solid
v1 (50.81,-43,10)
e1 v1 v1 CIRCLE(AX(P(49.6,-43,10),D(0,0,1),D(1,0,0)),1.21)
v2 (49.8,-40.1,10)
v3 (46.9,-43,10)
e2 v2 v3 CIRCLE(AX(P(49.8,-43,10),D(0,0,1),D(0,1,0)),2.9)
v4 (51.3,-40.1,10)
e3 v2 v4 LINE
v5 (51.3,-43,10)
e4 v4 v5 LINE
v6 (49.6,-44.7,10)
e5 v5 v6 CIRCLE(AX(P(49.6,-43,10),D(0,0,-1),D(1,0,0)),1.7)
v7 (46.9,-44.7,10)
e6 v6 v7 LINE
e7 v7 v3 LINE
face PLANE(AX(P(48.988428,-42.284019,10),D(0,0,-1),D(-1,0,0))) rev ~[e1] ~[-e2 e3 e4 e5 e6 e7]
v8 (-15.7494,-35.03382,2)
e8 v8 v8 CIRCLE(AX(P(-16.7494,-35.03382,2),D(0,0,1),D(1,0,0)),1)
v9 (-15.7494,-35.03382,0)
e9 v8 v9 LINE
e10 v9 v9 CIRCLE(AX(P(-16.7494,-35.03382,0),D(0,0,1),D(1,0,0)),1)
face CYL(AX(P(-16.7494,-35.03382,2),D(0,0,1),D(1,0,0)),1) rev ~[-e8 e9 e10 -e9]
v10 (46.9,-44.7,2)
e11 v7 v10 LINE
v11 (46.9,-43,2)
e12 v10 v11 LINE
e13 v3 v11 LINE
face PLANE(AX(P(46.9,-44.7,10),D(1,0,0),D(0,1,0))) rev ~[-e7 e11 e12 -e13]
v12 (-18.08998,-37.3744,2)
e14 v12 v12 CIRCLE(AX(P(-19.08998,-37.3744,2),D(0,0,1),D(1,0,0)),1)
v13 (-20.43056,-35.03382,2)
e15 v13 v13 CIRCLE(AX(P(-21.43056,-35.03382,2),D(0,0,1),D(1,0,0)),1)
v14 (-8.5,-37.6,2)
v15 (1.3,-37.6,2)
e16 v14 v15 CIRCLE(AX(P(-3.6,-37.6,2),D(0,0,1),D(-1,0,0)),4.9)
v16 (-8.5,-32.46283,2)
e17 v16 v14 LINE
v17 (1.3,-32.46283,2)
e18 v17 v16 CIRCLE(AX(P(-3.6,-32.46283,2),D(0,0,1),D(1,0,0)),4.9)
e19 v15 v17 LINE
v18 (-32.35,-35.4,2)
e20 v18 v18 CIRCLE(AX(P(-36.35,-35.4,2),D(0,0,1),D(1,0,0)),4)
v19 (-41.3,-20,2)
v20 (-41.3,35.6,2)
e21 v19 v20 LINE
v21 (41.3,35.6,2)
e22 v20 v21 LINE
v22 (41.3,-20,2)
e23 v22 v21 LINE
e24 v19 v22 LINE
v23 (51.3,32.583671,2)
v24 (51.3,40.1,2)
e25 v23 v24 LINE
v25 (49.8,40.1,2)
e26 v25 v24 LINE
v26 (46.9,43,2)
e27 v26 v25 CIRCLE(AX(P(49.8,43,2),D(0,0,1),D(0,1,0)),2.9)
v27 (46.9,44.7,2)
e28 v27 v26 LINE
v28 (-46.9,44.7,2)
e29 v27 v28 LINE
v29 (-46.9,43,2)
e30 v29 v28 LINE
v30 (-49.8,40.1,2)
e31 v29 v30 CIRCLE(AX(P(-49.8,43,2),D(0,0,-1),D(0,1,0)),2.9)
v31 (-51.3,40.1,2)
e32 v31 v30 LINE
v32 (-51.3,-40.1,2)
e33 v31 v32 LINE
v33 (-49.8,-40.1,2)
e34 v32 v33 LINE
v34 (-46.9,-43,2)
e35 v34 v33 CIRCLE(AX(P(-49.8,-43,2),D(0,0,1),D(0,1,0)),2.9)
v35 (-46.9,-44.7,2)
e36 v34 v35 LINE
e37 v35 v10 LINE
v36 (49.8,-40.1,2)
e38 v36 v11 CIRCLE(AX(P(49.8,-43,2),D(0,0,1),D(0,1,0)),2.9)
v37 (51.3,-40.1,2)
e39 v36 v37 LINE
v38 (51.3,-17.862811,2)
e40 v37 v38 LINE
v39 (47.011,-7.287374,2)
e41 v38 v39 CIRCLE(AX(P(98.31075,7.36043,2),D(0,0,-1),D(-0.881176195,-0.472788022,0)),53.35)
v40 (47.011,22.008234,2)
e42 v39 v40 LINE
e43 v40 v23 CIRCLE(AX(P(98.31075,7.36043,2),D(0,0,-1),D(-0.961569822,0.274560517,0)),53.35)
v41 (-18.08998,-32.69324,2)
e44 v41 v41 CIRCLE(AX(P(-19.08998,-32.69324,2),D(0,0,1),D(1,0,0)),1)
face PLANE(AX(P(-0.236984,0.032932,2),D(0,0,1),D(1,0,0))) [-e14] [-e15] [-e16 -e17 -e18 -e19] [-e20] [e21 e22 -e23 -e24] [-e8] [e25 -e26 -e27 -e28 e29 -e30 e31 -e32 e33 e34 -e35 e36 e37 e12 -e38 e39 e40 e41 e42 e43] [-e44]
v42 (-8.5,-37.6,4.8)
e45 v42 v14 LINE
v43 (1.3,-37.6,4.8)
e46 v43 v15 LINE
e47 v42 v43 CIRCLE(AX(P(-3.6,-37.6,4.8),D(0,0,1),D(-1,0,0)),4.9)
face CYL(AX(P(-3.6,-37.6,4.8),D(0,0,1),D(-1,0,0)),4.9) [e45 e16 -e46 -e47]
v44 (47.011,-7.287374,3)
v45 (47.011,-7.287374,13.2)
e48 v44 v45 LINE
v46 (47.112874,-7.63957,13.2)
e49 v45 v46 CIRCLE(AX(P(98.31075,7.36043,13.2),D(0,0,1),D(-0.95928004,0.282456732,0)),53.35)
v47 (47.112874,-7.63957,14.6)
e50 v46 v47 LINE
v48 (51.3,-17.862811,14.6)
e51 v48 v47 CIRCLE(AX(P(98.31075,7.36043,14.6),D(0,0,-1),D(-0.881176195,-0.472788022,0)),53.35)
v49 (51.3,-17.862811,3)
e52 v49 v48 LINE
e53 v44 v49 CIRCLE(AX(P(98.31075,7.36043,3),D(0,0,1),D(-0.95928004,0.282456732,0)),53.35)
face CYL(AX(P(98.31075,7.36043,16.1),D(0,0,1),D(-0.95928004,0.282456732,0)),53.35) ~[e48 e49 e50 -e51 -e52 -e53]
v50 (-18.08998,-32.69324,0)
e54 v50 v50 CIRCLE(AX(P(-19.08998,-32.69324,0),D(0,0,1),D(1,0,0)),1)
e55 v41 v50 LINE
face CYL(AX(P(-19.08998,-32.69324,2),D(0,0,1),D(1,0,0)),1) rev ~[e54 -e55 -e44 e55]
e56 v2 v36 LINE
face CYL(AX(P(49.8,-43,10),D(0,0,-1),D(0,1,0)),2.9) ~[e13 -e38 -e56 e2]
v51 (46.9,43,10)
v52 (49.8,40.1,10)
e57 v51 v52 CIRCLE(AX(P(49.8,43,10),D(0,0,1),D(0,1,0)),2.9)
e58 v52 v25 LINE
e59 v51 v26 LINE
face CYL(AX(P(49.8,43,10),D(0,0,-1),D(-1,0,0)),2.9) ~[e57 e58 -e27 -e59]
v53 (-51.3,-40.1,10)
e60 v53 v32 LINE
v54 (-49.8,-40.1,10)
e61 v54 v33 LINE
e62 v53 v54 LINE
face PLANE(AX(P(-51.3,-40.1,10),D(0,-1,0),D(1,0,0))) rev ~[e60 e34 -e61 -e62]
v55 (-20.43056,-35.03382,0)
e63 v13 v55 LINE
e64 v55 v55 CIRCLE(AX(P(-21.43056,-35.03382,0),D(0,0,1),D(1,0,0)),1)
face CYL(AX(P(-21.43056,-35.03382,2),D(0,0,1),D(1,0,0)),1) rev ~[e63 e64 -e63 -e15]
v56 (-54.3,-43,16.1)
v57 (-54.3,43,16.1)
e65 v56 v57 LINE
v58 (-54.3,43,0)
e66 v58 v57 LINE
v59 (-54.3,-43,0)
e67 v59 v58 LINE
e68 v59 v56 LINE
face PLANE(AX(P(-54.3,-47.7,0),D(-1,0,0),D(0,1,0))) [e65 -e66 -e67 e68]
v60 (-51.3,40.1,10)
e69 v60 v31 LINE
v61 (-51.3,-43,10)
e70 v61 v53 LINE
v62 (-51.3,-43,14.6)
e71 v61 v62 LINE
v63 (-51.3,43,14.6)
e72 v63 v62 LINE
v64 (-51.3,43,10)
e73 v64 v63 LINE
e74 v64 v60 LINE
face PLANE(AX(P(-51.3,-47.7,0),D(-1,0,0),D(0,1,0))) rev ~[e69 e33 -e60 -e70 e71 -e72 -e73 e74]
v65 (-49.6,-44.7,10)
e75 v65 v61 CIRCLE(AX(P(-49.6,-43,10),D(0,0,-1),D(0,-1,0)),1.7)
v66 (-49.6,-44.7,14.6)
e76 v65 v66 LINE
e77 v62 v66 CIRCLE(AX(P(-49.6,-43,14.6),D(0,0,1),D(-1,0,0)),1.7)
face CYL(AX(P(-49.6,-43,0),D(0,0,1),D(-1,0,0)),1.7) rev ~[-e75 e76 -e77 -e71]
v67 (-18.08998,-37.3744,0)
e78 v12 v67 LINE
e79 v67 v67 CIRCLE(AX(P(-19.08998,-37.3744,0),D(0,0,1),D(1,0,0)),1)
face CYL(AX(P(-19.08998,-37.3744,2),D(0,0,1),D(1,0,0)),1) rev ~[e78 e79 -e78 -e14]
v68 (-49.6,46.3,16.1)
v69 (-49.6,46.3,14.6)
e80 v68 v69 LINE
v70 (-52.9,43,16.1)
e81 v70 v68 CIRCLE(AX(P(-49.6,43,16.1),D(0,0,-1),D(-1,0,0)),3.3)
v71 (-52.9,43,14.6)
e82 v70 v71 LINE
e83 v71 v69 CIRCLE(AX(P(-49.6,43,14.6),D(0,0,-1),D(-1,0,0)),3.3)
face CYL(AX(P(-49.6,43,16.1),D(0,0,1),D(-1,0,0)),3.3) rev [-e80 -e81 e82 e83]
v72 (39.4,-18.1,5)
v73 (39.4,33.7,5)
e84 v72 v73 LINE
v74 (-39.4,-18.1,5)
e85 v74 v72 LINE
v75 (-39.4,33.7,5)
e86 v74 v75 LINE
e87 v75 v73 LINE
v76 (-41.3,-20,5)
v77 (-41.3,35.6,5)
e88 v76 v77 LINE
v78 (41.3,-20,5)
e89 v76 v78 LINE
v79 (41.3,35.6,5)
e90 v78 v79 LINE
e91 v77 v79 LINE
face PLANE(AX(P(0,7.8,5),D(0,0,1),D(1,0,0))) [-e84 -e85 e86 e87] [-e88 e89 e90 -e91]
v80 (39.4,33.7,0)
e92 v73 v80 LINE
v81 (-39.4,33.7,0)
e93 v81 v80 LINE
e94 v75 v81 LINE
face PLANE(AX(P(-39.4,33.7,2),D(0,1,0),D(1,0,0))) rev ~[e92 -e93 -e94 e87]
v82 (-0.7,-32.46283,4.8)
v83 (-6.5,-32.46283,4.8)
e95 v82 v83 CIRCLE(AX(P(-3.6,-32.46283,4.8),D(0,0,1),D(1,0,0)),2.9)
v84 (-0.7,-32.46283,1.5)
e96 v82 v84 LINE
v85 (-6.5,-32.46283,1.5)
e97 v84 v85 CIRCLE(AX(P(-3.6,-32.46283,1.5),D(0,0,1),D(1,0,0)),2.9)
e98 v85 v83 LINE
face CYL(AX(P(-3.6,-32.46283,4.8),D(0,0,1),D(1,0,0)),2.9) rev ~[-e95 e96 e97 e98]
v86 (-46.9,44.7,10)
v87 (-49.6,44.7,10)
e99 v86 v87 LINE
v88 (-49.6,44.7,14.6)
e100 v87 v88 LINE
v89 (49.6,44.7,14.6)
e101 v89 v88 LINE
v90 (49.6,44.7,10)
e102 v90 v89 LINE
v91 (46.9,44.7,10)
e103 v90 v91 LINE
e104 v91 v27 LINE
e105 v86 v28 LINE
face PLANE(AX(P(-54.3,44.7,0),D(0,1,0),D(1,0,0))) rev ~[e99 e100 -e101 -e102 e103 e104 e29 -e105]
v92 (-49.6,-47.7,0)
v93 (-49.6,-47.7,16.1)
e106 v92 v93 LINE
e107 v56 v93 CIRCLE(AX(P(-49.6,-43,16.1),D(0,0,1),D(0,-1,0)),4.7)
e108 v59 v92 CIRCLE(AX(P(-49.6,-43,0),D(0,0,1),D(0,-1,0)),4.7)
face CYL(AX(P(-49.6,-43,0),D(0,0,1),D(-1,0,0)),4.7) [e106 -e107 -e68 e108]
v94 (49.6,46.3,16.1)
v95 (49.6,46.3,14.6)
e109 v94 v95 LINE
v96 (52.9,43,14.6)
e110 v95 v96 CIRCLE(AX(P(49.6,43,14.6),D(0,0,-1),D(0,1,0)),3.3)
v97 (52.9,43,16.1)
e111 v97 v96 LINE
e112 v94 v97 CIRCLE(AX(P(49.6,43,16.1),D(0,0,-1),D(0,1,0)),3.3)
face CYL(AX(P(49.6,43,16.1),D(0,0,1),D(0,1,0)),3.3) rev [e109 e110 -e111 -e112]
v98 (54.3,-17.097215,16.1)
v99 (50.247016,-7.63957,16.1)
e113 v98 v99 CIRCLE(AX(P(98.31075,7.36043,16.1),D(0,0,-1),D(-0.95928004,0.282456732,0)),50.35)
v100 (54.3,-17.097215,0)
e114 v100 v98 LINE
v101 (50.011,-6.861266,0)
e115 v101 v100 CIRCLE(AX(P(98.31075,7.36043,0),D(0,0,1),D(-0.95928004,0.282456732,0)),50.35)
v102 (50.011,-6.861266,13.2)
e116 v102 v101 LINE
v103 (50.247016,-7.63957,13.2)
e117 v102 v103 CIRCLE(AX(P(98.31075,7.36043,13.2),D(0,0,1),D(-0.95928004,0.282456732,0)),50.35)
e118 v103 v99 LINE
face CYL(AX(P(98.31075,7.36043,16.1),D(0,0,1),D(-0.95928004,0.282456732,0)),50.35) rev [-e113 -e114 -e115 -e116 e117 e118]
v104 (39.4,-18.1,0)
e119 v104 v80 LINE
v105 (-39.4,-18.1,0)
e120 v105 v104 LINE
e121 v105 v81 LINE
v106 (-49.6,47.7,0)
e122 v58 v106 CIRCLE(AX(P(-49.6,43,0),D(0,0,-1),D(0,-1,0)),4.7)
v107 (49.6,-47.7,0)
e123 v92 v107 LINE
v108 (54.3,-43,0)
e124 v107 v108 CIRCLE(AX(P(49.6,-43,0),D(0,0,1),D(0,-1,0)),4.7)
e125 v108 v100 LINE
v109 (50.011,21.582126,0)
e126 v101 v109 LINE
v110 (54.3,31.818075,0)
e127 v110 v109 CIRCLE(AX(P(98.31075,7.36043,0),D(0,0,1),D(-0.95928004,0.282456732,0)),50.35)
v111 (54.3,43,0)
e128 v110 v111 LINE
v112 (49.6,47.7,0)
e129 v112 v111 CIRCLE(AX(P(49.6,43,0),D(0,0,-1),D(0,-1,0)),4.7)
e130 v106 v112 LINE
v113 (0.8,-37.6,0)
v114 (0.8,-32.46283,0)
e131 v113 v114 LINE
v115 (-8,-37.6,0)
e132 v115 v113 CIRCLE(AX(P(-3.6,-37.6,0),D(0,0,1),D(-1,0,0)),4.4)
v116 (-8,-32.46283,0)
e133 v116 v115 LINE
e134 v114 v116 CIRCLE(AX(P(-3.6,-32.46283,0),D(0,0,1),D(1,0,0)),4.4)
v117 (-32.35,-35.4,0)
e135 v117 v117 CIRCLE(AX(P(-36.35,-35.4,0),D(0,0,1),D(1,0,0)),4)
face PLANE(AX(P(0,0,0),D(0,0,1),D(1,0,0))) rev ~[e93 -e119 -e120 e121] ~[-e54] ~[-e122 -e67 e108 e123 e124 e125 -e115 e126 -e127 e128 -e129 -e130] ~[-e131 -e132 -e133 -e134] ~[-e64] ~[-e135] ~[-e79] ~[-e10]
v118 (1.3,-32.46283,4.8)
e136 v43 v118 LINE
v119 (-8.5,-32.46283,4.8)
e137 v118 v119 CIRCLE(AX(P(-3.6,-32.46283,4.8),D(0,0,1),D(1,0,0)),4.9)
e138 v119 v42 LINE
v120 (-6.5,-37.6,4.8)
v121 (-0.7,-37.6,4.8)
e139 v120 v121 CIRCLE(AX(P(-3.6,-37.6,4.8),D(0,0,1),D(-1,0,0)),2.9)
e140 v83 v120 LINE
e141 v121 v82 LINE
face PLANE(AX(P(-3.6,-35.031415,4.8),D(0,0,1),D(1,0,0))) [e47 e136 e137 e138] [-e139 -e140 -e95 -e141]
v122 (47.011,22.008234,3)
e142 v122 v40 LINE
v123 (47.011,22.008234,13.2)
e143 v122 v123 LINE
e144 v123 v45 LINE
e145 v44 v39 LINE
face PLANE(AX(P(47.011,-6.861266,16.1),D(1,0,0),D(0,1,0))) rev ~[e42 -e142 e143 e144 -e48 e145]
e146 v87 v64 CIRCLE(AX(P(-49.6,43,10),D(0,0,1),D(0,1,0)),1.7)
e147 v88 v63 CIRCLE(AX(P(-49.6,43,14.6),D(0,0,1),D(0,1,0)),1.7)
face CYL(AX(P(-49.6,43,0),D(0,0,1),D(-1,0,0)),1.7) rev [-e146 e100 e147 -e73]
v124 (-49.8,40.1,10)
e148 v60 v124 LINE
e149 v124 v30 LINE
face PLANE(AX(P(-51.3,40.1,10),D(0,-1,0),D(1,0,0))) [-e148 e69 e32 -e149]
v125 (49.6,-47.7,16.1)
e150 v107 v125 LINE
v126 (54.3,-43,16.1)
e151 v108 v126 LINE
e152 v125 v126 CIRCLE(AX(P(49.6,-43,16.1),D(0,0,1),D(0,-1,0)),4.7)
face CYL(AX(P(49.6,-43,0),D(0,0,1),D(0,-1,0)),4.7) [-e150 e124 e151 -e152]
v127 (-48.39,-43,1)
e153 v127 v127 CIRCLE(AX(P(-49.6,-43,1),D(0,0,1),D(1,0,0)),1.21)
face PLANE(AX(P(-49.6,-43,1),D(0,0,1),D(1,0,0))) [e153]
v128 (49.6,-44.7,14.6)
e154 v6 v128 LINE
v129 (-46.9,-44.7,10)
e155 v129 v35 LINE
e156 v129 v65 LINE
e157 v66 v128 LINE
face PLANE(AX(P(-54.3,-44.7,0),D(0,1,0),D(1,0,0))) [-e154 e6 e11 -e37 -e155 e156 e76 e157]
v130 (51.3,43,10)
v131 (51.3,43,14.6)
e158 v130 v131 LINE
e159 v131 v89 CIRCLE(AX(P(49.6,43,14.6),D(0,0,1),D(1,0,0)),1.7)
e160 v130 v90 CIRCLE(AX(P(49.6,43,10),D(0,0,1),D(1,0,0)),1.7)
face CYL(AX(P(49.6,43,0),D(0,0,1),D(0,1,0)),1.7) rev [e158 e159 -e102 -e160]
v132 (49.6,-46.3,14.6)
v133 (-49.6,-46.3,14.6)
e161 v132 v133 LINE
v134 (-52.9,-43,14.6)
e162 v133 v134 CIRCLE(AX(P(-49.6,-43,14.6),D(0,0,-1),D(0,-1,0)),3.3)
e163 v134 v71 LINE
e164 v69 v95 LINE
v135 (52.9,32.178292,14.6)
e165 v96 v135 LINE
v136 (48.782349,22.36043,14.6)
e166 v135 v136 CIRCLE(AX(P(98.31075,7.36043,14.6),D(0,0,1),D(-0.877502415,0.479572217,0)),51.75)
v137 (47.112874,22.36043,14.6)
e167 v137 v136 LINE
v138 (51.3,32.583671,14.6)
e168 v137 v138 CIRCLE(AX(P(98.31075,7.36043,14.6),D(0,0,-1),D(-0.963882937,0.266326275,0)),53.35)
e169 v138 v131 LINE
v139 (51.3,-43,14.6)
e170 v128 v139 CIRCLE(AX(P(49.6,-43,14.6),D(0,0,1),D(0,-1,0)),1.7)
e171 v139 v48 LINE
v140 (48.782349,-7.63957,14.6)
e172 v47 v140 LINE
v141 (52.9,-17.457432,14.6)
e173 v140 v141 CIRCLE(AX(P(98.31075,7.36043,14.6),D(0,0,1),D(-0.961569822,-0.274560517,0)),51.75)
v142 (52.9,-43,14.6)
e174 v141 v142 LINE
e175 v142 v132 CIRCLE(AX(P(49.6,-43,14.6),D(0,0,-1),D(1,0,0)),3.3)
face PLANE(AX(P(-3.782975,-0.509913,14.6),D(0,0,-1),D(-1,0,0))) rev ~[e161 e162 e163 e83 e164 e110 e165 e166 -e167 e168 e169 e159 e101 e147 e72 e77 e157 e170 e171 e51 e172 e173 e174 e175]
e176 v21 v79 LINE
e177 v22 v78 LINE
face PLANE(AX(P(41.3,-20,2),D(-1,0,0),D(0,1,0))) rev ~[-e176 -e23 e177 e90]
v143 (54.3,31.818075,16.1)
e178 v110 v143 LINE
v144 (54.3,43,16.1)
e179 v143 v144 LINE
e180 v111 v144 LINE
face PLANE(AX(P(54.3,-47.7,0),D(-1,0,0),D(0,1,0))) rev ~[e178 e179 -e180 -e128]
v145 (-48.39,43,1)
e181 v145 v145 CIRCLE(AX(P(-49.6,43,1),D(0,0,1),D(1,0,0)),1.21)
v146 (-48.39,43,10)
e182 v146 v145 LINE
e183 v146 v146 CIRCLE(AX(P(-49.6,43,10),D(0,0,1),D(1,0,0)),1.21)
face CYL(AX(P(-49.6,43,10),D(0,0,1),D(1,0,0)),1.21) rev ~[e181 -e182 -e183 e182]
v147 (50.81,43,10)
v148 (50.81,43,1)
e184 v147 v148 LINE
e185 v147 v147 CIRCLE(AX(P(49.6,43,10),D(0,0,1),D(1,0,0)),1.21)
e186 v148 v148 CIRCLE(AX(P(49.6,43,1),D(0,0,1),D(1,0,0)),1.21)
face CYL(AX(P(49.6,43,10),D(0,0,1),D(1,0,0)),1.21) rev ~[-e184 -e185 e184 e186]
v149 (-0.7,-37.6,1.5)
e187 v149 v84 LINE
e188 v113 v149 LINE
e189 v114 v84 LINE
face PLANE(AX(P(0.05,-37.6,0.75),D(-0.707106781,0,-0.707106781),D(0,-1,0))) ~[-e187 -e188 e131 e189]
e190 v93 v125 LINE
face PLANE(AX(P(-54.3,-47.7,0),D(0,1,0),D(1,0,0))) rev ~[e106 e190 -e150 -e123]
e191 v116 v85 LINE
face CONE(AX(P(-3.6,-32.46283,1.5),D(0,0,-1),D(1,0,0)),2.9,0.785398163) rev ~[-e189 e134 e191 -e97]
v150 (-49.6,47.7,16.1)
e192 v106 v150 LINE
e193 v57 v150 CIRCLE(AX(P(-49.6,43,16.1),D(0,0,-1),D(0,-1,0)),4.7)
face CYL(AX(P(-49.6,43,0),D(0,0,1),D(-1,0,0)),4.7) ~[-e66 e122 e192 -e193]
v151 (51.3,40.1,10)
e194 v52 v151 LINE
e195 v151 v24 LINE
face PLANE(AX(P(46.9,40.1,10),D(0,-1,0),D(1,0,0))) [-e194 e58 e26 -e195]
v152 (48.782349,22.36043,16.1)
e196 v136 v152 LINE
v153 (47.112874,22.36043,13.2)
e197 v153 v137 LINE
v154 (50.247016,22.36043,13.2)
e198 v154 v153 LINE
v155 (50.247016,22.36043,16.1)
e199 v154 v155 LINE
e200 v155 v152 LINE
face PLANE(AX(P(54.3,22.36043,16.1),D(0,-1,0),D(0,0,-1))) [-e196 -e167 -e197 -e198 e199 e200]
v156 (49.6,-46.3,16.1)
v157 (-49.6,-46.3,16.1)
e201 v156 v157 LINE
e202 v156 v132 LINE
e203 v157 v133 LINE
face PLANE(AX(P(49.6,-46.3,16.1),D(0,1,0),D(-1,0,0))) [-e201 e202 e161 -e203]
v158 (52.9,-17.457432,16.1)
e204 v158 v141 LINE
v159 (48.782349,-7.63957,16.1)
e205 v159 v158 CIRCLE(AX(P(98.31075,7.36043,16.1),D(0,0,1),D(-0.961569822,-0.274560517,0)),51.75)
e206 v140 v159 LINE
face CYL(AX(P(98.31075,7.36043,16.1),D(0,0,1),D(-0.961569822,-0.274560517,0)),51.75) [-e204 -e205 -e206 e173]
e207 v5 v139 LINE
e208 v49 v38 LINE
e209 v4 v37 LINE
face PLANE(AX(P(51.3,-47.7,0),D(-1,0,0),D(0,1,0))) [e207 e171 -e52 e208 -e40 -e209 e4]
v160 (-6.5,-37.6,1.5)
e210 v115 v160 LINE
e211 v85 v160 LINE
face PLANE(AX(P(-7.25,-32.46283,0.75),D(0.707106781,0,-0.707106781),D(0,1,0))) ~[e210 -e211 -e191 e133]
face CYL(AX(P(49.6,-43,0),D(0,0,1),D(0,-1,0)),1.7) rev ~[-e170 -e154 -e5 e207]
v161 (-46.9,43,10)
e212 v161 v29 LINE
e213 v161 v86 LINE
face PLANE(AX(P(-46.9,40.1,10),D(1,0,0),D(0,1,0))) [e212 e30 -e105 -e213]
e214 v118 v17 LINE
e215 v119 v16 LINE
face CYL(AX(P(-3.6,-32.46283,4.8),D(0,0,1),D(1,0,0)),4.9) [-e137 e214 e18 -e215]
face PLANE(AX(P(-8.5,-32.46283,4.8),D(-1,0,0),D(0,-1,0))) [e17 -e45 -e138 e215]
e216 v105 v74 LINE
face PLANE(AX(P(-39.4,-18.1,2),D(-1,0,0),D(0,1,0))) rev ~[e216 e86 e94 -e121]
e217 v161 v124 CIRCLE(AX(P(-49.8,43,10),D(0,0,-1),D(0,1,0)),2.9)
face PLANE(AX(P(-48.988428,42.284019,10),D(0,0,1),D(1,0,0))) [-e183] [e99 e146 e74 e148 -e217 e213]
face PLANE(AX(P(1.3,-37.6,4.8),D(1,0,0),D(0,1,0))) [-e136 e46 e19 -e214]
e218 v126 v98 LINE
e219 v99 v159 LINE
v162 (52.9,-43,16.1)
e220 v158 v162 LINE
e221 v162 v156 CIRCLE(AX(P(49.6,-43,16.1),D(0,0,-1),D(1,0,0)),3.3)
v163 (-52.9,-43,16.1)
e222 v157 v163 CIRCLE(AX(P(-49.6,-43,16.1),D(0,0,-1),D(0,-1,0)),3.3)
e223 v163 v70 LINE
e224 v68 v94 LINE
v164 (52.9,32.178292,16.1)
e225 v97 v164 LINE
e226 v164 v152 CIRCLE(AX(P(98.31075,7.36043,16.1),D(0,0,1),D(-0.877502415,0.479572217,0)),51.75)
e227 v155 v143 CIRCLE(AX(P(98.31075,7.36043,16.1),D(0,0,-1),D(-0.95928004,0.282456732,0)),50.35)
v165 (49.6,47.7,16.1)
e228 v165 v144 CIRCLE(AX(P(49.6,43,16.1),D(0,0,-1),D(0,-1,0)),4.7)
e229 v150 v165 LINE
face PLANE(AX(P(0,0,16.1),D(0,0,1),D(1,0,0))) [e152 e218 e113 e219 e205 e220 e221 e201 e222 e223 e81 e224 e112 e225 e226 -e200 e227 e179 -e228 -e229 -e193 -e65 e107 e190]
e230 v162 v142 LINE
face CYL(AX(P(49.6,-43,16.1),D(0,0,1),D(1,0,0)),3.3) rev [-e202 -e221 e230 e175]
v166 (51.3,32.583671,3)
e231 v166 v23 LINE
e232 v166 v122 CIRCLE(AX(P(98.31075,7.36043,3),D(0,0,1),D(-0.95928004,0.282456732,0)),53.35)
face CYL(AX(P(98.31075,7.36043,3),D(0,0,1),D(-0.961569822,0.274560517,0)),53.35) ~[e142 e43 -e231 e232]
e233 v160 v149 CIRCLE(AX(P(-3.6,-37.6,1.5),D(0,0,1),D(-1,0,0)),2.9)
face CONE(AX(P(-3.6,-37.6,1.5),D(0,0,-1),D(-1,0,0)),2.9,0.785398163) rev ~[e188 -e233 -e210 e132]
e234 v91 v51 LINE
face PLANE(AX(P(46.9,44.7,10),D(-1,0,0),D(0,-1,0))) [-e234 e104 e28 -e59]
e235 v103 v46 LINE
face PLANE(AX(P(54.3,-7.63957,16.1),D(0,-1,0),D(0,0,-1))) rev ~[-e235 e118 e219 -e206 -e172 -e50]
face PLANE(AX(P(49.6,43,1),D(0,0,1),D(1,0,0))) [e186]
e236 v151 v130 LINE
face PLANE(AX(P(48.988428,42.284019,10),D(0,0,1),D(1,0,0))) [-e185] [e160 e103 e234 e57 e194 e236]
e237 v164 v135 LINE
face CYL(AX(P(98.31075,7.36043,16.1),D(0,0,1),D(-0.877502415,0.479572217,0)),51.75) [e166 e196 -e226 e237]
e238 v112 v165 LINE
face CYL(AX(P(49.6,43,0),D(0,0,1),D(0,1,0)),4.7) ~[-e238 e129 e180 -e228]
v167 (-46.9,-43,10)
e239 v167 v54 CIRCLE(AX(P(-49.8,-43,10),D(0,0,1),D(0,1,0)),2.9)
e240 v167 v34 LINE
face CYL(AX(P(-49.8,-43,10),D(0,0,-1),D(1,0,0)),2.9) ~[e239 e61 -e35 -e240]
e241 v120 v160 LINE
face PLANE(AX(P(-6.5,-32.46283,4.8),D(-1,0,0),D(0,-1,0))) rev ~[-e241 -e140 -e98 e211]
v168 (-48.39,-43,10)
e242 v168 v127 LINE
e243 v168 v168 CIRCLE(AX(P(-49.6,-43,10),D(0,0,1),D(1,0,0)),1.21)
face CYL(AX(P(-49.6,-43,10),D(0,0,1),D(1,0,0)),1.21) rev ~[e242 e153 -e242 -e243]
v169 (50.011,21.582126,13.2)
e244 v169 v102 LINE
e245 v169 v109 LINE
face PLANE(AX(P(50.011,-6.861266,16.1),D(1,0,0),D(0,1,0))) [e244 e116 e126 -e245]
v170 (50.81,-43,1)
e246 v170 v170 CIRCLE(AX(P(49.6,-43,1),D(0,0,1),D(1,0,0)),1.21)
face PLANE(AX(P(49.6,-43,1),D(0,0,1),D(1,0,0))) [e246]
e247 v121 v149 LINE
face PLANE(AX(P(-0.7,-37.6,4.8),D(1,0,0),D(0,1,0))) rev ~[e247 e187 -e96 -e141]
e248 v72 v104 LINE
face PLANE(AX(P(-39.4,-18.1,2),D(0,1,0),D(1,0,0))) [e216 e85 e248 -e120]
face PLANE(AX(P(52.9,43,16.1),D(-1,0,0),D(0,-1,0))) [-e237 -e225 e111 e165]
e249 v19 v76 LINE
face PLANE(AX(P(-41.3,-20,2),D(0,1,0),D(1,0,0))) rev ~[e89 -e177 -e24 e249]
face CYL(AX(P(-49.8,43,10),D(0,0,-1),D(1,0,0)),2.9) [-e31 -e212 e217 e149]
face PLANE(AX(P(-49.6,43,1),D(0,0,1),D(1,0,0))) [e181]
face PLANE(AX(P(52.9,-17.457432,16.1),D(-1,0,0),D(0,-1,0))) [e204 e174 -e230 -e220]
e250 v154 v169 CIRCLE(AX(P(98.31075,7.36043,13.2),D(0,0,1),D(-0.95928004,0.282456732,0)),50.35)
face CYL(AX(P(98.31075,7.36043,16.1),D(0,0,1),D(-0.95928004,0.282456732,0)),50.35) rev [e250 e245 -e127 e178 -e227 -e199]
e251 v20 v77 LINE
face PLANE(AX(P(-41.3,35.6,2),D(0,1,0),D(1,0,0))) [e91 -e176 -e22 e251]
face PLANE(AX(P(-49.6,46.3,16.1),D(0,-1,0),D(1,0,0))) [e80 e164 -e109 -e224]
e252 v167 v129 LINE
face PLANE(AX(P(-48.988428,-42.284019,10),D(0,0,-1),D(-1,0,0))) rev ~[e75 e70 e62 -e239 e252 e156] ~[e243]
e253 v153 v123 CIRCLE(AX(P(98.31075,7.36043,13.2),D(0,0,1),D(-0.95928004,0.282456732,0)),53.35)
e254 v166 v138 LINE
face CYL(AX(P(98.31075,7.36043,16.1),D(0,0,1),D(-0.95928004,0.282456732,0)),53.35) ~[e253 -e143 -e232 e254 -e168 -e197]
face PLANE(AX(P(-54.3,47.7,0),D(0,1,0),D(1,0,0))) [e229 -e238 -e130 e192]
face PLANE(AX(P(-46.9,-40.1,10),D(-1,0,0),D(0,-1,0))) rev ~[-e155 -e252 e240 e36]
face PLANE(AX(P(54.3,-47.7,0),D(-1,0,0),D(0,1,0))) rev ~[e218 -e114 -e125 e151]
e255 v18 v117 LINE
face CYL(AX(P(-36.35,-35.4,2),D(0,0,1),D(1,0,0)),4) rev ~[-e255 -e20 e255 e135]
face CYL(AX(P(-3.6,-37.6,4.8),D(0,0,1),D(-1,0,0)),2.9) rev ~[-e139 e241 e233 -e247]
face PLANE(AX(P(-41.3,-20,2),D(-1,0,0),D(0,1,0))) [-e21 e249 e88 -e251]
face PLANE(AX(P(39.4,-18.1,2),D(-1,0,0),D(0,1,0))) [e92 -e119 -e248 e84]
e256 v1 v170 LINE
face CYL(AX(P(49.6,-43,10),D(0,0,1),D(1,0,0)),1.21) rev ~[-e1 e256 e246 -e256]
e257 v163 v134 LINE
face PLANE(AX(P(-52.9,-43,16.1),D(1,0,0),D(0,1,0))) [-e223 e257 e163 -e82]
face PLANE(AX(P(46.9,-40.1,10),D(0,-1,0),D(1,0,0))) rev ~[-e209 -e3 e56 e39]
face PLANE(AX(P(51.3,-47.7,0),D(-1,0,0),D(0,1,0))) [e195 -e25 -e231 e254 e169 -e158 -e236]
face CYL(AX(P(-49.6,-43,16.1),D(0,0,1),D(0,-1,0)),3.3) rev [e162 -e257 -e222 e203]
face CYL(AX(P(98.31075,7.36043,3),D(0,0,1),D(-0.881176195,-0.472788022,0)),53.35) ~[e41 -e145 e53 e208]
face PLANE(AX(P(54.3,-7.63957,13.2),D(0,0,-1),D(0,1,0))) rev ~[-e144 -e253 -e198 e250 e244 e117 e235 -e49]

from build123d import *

# Parameters (mm, degrees)
SKETCH1_W                = 108.6
SKETCH1_H                = 95.4
BOSS_EXTRUDE1_DEPTH      = 16.1
CUT_EXTRUDE1_DEPTH       = 75.047214667
FILLET1_R                = 4.7
SHELL1_T                 = -3
SHELL1_THICKNESS_2_DEPTH = 1
CUT_EXTRUDE2_DEPTH       = 1.5
SKETCH4_W                = 78.8
SKETCH4_H                = 51.8
CUT_EXTRUDE3_DEPTH       = 74.63823735
SKETCH5_W                = 82.6
SKETCH5_H                = 55.6
SKETCH5_W_2              = 78.8
SKETCH5_H_2              = 51.8
BOSS_EXTRUDE2_DEPTH      = 3
SKETCH6_R                = 4
SKETCH6_R_2              = 1
CUT_EXTRUDE4_DEPTH       = 74.63823735
BOSS_EXTRUDE3_START      = 2.8
BOSS_EXTRUDE3_DEPTH      = 2.8
CHAMFER1_SIZE            = 1.5
CUT_EXTRUDE5_REACH       = 121.702
SKETCH8_W                = 2.9
SKETCH8_H                = 30
BOSS_EXTRUDE4_START      = 8
BOSS_EXTRUDE4_DEPTH      = 8
FILLET2_R                = 2.9
SKETCH10_R               = 1.21
CUT_EXTRUDE6_DEPTH       = 9


with BuildPart() as part:
    # Sketch1 → Boss-Extrude1 (new body)
    with BuildSketch(Plane.XY):
        Rectangle(SKETCH1_W, SKETCH1_H)
    extrude(amount=BOSS_EXTRUDE1_DEPTH)

    # Sketch2 → Cut-Extrude1 (cut, through all)
    with BuildSketch(Plane.XY.offset(16.1)):
        with BuildLine():
            Line((50.011, -6.861266451), (50.011, 21.582126451))
            ThreePointArc((50.011, 21.582126451), (148.66075, 7.36043), (50.011, -6.861266451))
        make_face()
    extrude(amount=-CUT_EXTRUDE1_DEPTH, mode=Mode.SUBTRACT)

    # Fillet1
    fillet1_edges = [part.edges().sort_by_distance(p)[0] for p in [
        (54.3, -47.7, 8.05),
        (-54.3, -47.7, 8.05),
        (-54.3, 47.7, 8.05),
        (54.3, 47.7, 8.05),
    ]]
    fillet(fillet1_edges, radius=FILLET1_R)

    # Shell1
    shell1_openings = [part.faces().sort_by_distance(p)[0] for p in [
        (-0.877010034, -0.123339484, 16.1),
    ]]
    offset(amount=SHELL1_T, openings=shell1_openings, kind=Kind.INTERSECTION)

    # Shell1 thickness 2 face (on inner face of the shell) → Shell1 thickness 2 (cut)
    with BuildSketch(Plane(origin=(-0.963593996, -0.143755332, 3), x_dir=(-1, 0, 0), z_dir=(0, 0, -1))):
        with BuildLine():
            Line((50.336406004, 43.143755332), (50.336406004, -42.856244668))
            ThreePointArc((50.336406004, -42.856244668), (49.838487532, -44.058326196), (48.636406004, -44.556244668))
            Line((48.636406004, -44.556244668), (-50.563593996, -44.556244668))
            ThreePointArc((-50.563593996, -44.556244668), (-51.765675524, -44.058326196), (-52.263593996, -42.856244668))
            Line((-52.263593996, -42.856244668), (-52.263593996, -17.719055626))
            ThreePointArc((-52.263593996, -17.719055626), (-49.835507324, -12.546349038), (-47.974593996, -7.143618255))
            Line((-47.974593996, -7.143618255), (-47.974593996, 22.151988919))
            ThreePointArc((-47.974593996, 22.151988919), (-49.835507324, 27.554719702), (-52.263593996, 32.72742629))
            Line((-52.263593996, 32.72742629), (-52.263593996, 43.143755332))
            ThreePointArc((-52.263593996, 43.143755332), (-51.765675524, 44.34583686), (-50.563593996, 44.843755332))
            Line((-50.563593996, 44.843755332), (48.636406004, 44.843755332))
            ThreePointArc((48.636406004, 44.843755332), (49.838487532, 44.34583686), (50.336406004, 43.143755332))
        make_face()
    extrude(amount=SHELL1_THICKNESS_2_DEPTH, mode=Mode.SUBTRACT)

    # Sketch3 → Cut-Extrude2 (cut)
    with BuildSketch(Plane.XY.offset(16.1)):
        with BuildLine():
            Line((-51.3, 43), (-51.3, -43))
            ThreePointArc((-51.3, -43), (-50.802081528, -44.202081528), (-49.6, -44.7))
            Line((-49.6, -44.7), (49.6, -44.7))
            ThreePointArc((49.6, -44.7), (50.802081528, -44.202081528), (51.3, -43))
            Line((51.3, -43), (51.3, -17.862810958))
            ThreePointArc((51.3, -17.862810958), (48.786619627, -12.478496653), (46.887595336, -6.84807676))
            Line((46.887595336, -6.84807676), (48.549511715, -6.84807676))
            ThreePointArc((48.549511715, -6.84807676), (50.429997664, -12.273623472), (52.9, -17.457432205))
            Line((52.9, -17.457432205), (52.9, -43))
            ThreePointArc((52.9, -43), (51.933452378, -45.333452378), (49.6, -46.3))
            Line((49.6, -46.3), (-49.6, -46.3))
            ThreePointArc((-49.6, -46.3), (-51.933452378, -45.333452378), (-52.9, -43))
            Line((-52.9, -43), (-52.9, 43))
            ThreePointArc((-52.9, 43), (-51.933452378, 45.333452378), (-49.6, 46.3))
            Line((-49.6, 46.3), (49.6, 46.3))
            ThreePointArc((49.6, 46.3), (51.933452378, 45.333452378), (52.9, 43))
            Line((52.9, 43), (52.9, 32.178292205))
            ThreePointArc((52.9, 32.178292205), (50.429997664, 26.994483472), (48.549511715, 21.56893676))
            Line((48.549511715, 21.56893676), (46.887595336, 21.56893676))
            ThreePointArc((46.887595336, 21.56893676), (48.786619627, 27.199356653), (51.3, 32.583670958))
            Line((51.3, 32.583670958), (51.3, 43))
            ThreePointArc((51.3, 43), (50.802081528, 44.202081528), (49.6, 44.7))
            Line((49.6, 44.7), (-49.6, 44.7))
            ThreePointArc((-49.6, 44.7), (-50.802081528, 44.202081528), (-51.3, 43))
        make_face()
    extrude(amount=-CUT_EXTRUDE2_DEPTH, mode=Mode.SUBTRACT)

    # Sketch4 → Cut-Extrude3 (cut, through all)
    with BuildSketch(Plane.XY.offset(2)):
        with Locations((0, 7.8)):
            Rectangle(SKETCH4_W, SKETCH4_H)
    extrude(amount=-CUT_EXTRUDE3_DEPTH, mode=Mode.SUBTRACT)

    # Sketch5 → Boss-Extrude2 (add)
    with BuildSketch(Plane.XY.offset(2)):
        with Locations((0, 7.8)):
            Rectangle(SKETCH5_W, SKETCH5_H)
        with Locations((0, 7.8)):
            Rectangle(SKETCH5_W_2, SKETCH5_H_2, mode=Mode.SUBTRACT)
    extrude(amount=BOSS_EXTRUDE2_DEPTH)

    # Sketch6 → Cut-Extrude4 (cut, through all)
    with BuildSketch(Plane.XY.offset(2)):
        with Locations((-36.35, -35.4)):
            Circle(SKETCH6_R)
        with Locations((-19.08998, -32.69324)):
            Circle(SKETCH6_R_2)
        with Locations((-19.08998, -37.3744)):
            Circle(SKETCH6_R_2)
        with Locations((-21.43056, -35.03382)):
            Circle(SKETCH6_R_2)
        with Locations((-16.7494, -35.03382)):
            Circle(SKETCH6_R_2)
        with BuildLine():
            Line((-0.7, -32.46283), (-0.7, -37.6))
            ThreePointArc((-0.7, -37.6), (-3.6, -40.5), (-6.5, -37.6))
            Line((-6.5, -37.6), (-6.5, -32.46283))
            ThreePointArc((-6.5, -32.46283), (-3.6, -29.56283), (-0.7, -32.46283))
        make_face()
    extrude(amount=-CUT_EXTRUDE4_DEPTH, mode=Mode.SUBTRACT)

    # Sketch7 → Boss-Extrude3 (add)
    with BuildSketch(Plane.XY.offset(2).offset(BOSS_EXTRUDE3_START)):
        with BuildLine():
            Line((-8.5, -32.46283), (-8.5, -37.6))
            ThreePointArc((-8.5, -37.6), (-3.6, -42.5), (1.3, -37.6))
            Line((1.3, -37.6), (1.3, -32.46283))
            ThreePointArc((1.3, -32.46283), (-3.6, -27.56283), (-8.5, -32.46283))
        make_face()
        with BuildLine():
            Line((-6.5, -32.46283), (-6.5, -37.6))
            ThreePointArc((-6.5, -37.6), (-3.6, -40.5), (-0.7, -37.6))
            Line((-0.7, -37.6), (-0.7, -32.46283))
            ThreePointArc((-0.7, -32.46283), (-3.6, -29.56283), (-6.5, -32.46283))
        make_face(mode=Mode.SUBTRACT)
    extrude(amount=-BOSS_EXTRUDE3_DEPTH)

    # Chamfer1
    chamfer1_edges = [part.edges().sort_by_distance(p)[0] for p in [
        (-3.6, -29.56283, 0),
        (-0.7, -35.031415, 0),
        (-3.6, -40.5, 0),
        (-6.5, -35.031415, 0),
    ]]
    chamfer(chamfer1_edges, length=CHAMFER1_SIZE)

    # Sketch8 → Cut-Extrude5 (cut, up to next)
    with BuildSketch(Plane(origin=(54.3, 0, 0), x_dir=(0, 0, -1), z_dir=(1, 0, 0)), mode=Mode.PRIVATE) as cut_extrude5_sk1:
        with Locations((-14.65, 7.36043)):
            Rectangle(SKETCH8_W, SKETCH8_H)
    cut_extrude5_tool1 = extrude(cut_extrude5_sk1.sketch, amount=-CUT_EXTRUDE5_REACH, mode=Mode.PRIVATE) & part.part
    add(cut_extrude5_tool1.solids().sort_by_distance((54.3, 7.36043, 14.65))[0], mode=Mode.SUBTRACT)

    # Sketch9 → Boss-Extrude4 (add)
    with BuildSketch(Plane.XY.offset(2).offset(BOSS_EXTRUDE4_START)):
        with BuildLine():
            Line((49.6, 44.7), (46.9, 44.7))
            Line((46.9, 44.7), (46.9, 40.1))
            Line((46.9, 40.1), (51.3, 40.1))
            Line((51.3, 40.1), (51.3, 43))
            ThreePointArc((51.3, 43), (50.802081528, 44.202081528), (49.6, 44.7))
        make_face()
        with BuildLine():
            Line((-51.3, 40.1), (-46.9, 40.1))
            Line((-46.9, 40.1), (-46.9, 44.7))
            Line((-46.9, 44.7), (-49.6, 44.7))
            ThreePointArc((-49.6, 44.7), (-50.802081528, 44.202081528), (-51.3, 43))
            Line((-51.3, 43), (-51.3, 40.1))
        make_face()
        with BuildLine():
            Line((-51.3, -43), (-51.3, -40.1))
            Line((-51.3, -40.1), (-46.9, -40.1))
            Line((-46.9, -40.1), (-46.9, -44.7))
            Line((-46.9, -44.7), (-49.6, -44.7))
            ThreePointArc((-49.6, -44.7), (-50.802081528, -44.202081528), (-51.3, -43))
        make_face()
        with BuildLine():
            Line((49.6, -44.7), (46.9, -44.7))
            Line((46.9, -44.7), (46.9, -40.1))
            Line((46.9, -40.1), (51.3, -40.1))
            Line((51.3, -40.1), (51.3, -43))
            ThreePointArc((51.3, -43), (50.802081528, -44.202081528), (49.6, -44.7))
        make_face()
    extrude(amount=-BOSS_EXTRUDE4_DEPTH)

    # Fillet2
    fillet2_edges = [part.edges().sort_by_distance(p)[0] for p in [
        (-46.9, 40.1, 6),
        (46.9, 40.1, 6),
        (46.9, -40.1, 6),
        (-46.9, -40.1, 6),
    ]]
    fillet(fillet2_edges, radius=FILLET2_R)

    # Sketch10 → Cut-Extrude6 (cut)
    with BuildSketch(Plane.XY.offset(10)):
        with Locations((-49.6, 43)):
            Circle(SKETCH10_R)
        with Locations((49.6, 43)):
            Circle(SKETCH10_R)
        with Locations((49.6, -43)):
            Circle(SKETCH10_R)
        with Locations((-49.6, -43)):
            Circle(SKETCH10_R)
    extrude(amount=-CUT_EXTRUDE6_DEPTH, mode=Mode.SUBTRACT)


solid = part.part
